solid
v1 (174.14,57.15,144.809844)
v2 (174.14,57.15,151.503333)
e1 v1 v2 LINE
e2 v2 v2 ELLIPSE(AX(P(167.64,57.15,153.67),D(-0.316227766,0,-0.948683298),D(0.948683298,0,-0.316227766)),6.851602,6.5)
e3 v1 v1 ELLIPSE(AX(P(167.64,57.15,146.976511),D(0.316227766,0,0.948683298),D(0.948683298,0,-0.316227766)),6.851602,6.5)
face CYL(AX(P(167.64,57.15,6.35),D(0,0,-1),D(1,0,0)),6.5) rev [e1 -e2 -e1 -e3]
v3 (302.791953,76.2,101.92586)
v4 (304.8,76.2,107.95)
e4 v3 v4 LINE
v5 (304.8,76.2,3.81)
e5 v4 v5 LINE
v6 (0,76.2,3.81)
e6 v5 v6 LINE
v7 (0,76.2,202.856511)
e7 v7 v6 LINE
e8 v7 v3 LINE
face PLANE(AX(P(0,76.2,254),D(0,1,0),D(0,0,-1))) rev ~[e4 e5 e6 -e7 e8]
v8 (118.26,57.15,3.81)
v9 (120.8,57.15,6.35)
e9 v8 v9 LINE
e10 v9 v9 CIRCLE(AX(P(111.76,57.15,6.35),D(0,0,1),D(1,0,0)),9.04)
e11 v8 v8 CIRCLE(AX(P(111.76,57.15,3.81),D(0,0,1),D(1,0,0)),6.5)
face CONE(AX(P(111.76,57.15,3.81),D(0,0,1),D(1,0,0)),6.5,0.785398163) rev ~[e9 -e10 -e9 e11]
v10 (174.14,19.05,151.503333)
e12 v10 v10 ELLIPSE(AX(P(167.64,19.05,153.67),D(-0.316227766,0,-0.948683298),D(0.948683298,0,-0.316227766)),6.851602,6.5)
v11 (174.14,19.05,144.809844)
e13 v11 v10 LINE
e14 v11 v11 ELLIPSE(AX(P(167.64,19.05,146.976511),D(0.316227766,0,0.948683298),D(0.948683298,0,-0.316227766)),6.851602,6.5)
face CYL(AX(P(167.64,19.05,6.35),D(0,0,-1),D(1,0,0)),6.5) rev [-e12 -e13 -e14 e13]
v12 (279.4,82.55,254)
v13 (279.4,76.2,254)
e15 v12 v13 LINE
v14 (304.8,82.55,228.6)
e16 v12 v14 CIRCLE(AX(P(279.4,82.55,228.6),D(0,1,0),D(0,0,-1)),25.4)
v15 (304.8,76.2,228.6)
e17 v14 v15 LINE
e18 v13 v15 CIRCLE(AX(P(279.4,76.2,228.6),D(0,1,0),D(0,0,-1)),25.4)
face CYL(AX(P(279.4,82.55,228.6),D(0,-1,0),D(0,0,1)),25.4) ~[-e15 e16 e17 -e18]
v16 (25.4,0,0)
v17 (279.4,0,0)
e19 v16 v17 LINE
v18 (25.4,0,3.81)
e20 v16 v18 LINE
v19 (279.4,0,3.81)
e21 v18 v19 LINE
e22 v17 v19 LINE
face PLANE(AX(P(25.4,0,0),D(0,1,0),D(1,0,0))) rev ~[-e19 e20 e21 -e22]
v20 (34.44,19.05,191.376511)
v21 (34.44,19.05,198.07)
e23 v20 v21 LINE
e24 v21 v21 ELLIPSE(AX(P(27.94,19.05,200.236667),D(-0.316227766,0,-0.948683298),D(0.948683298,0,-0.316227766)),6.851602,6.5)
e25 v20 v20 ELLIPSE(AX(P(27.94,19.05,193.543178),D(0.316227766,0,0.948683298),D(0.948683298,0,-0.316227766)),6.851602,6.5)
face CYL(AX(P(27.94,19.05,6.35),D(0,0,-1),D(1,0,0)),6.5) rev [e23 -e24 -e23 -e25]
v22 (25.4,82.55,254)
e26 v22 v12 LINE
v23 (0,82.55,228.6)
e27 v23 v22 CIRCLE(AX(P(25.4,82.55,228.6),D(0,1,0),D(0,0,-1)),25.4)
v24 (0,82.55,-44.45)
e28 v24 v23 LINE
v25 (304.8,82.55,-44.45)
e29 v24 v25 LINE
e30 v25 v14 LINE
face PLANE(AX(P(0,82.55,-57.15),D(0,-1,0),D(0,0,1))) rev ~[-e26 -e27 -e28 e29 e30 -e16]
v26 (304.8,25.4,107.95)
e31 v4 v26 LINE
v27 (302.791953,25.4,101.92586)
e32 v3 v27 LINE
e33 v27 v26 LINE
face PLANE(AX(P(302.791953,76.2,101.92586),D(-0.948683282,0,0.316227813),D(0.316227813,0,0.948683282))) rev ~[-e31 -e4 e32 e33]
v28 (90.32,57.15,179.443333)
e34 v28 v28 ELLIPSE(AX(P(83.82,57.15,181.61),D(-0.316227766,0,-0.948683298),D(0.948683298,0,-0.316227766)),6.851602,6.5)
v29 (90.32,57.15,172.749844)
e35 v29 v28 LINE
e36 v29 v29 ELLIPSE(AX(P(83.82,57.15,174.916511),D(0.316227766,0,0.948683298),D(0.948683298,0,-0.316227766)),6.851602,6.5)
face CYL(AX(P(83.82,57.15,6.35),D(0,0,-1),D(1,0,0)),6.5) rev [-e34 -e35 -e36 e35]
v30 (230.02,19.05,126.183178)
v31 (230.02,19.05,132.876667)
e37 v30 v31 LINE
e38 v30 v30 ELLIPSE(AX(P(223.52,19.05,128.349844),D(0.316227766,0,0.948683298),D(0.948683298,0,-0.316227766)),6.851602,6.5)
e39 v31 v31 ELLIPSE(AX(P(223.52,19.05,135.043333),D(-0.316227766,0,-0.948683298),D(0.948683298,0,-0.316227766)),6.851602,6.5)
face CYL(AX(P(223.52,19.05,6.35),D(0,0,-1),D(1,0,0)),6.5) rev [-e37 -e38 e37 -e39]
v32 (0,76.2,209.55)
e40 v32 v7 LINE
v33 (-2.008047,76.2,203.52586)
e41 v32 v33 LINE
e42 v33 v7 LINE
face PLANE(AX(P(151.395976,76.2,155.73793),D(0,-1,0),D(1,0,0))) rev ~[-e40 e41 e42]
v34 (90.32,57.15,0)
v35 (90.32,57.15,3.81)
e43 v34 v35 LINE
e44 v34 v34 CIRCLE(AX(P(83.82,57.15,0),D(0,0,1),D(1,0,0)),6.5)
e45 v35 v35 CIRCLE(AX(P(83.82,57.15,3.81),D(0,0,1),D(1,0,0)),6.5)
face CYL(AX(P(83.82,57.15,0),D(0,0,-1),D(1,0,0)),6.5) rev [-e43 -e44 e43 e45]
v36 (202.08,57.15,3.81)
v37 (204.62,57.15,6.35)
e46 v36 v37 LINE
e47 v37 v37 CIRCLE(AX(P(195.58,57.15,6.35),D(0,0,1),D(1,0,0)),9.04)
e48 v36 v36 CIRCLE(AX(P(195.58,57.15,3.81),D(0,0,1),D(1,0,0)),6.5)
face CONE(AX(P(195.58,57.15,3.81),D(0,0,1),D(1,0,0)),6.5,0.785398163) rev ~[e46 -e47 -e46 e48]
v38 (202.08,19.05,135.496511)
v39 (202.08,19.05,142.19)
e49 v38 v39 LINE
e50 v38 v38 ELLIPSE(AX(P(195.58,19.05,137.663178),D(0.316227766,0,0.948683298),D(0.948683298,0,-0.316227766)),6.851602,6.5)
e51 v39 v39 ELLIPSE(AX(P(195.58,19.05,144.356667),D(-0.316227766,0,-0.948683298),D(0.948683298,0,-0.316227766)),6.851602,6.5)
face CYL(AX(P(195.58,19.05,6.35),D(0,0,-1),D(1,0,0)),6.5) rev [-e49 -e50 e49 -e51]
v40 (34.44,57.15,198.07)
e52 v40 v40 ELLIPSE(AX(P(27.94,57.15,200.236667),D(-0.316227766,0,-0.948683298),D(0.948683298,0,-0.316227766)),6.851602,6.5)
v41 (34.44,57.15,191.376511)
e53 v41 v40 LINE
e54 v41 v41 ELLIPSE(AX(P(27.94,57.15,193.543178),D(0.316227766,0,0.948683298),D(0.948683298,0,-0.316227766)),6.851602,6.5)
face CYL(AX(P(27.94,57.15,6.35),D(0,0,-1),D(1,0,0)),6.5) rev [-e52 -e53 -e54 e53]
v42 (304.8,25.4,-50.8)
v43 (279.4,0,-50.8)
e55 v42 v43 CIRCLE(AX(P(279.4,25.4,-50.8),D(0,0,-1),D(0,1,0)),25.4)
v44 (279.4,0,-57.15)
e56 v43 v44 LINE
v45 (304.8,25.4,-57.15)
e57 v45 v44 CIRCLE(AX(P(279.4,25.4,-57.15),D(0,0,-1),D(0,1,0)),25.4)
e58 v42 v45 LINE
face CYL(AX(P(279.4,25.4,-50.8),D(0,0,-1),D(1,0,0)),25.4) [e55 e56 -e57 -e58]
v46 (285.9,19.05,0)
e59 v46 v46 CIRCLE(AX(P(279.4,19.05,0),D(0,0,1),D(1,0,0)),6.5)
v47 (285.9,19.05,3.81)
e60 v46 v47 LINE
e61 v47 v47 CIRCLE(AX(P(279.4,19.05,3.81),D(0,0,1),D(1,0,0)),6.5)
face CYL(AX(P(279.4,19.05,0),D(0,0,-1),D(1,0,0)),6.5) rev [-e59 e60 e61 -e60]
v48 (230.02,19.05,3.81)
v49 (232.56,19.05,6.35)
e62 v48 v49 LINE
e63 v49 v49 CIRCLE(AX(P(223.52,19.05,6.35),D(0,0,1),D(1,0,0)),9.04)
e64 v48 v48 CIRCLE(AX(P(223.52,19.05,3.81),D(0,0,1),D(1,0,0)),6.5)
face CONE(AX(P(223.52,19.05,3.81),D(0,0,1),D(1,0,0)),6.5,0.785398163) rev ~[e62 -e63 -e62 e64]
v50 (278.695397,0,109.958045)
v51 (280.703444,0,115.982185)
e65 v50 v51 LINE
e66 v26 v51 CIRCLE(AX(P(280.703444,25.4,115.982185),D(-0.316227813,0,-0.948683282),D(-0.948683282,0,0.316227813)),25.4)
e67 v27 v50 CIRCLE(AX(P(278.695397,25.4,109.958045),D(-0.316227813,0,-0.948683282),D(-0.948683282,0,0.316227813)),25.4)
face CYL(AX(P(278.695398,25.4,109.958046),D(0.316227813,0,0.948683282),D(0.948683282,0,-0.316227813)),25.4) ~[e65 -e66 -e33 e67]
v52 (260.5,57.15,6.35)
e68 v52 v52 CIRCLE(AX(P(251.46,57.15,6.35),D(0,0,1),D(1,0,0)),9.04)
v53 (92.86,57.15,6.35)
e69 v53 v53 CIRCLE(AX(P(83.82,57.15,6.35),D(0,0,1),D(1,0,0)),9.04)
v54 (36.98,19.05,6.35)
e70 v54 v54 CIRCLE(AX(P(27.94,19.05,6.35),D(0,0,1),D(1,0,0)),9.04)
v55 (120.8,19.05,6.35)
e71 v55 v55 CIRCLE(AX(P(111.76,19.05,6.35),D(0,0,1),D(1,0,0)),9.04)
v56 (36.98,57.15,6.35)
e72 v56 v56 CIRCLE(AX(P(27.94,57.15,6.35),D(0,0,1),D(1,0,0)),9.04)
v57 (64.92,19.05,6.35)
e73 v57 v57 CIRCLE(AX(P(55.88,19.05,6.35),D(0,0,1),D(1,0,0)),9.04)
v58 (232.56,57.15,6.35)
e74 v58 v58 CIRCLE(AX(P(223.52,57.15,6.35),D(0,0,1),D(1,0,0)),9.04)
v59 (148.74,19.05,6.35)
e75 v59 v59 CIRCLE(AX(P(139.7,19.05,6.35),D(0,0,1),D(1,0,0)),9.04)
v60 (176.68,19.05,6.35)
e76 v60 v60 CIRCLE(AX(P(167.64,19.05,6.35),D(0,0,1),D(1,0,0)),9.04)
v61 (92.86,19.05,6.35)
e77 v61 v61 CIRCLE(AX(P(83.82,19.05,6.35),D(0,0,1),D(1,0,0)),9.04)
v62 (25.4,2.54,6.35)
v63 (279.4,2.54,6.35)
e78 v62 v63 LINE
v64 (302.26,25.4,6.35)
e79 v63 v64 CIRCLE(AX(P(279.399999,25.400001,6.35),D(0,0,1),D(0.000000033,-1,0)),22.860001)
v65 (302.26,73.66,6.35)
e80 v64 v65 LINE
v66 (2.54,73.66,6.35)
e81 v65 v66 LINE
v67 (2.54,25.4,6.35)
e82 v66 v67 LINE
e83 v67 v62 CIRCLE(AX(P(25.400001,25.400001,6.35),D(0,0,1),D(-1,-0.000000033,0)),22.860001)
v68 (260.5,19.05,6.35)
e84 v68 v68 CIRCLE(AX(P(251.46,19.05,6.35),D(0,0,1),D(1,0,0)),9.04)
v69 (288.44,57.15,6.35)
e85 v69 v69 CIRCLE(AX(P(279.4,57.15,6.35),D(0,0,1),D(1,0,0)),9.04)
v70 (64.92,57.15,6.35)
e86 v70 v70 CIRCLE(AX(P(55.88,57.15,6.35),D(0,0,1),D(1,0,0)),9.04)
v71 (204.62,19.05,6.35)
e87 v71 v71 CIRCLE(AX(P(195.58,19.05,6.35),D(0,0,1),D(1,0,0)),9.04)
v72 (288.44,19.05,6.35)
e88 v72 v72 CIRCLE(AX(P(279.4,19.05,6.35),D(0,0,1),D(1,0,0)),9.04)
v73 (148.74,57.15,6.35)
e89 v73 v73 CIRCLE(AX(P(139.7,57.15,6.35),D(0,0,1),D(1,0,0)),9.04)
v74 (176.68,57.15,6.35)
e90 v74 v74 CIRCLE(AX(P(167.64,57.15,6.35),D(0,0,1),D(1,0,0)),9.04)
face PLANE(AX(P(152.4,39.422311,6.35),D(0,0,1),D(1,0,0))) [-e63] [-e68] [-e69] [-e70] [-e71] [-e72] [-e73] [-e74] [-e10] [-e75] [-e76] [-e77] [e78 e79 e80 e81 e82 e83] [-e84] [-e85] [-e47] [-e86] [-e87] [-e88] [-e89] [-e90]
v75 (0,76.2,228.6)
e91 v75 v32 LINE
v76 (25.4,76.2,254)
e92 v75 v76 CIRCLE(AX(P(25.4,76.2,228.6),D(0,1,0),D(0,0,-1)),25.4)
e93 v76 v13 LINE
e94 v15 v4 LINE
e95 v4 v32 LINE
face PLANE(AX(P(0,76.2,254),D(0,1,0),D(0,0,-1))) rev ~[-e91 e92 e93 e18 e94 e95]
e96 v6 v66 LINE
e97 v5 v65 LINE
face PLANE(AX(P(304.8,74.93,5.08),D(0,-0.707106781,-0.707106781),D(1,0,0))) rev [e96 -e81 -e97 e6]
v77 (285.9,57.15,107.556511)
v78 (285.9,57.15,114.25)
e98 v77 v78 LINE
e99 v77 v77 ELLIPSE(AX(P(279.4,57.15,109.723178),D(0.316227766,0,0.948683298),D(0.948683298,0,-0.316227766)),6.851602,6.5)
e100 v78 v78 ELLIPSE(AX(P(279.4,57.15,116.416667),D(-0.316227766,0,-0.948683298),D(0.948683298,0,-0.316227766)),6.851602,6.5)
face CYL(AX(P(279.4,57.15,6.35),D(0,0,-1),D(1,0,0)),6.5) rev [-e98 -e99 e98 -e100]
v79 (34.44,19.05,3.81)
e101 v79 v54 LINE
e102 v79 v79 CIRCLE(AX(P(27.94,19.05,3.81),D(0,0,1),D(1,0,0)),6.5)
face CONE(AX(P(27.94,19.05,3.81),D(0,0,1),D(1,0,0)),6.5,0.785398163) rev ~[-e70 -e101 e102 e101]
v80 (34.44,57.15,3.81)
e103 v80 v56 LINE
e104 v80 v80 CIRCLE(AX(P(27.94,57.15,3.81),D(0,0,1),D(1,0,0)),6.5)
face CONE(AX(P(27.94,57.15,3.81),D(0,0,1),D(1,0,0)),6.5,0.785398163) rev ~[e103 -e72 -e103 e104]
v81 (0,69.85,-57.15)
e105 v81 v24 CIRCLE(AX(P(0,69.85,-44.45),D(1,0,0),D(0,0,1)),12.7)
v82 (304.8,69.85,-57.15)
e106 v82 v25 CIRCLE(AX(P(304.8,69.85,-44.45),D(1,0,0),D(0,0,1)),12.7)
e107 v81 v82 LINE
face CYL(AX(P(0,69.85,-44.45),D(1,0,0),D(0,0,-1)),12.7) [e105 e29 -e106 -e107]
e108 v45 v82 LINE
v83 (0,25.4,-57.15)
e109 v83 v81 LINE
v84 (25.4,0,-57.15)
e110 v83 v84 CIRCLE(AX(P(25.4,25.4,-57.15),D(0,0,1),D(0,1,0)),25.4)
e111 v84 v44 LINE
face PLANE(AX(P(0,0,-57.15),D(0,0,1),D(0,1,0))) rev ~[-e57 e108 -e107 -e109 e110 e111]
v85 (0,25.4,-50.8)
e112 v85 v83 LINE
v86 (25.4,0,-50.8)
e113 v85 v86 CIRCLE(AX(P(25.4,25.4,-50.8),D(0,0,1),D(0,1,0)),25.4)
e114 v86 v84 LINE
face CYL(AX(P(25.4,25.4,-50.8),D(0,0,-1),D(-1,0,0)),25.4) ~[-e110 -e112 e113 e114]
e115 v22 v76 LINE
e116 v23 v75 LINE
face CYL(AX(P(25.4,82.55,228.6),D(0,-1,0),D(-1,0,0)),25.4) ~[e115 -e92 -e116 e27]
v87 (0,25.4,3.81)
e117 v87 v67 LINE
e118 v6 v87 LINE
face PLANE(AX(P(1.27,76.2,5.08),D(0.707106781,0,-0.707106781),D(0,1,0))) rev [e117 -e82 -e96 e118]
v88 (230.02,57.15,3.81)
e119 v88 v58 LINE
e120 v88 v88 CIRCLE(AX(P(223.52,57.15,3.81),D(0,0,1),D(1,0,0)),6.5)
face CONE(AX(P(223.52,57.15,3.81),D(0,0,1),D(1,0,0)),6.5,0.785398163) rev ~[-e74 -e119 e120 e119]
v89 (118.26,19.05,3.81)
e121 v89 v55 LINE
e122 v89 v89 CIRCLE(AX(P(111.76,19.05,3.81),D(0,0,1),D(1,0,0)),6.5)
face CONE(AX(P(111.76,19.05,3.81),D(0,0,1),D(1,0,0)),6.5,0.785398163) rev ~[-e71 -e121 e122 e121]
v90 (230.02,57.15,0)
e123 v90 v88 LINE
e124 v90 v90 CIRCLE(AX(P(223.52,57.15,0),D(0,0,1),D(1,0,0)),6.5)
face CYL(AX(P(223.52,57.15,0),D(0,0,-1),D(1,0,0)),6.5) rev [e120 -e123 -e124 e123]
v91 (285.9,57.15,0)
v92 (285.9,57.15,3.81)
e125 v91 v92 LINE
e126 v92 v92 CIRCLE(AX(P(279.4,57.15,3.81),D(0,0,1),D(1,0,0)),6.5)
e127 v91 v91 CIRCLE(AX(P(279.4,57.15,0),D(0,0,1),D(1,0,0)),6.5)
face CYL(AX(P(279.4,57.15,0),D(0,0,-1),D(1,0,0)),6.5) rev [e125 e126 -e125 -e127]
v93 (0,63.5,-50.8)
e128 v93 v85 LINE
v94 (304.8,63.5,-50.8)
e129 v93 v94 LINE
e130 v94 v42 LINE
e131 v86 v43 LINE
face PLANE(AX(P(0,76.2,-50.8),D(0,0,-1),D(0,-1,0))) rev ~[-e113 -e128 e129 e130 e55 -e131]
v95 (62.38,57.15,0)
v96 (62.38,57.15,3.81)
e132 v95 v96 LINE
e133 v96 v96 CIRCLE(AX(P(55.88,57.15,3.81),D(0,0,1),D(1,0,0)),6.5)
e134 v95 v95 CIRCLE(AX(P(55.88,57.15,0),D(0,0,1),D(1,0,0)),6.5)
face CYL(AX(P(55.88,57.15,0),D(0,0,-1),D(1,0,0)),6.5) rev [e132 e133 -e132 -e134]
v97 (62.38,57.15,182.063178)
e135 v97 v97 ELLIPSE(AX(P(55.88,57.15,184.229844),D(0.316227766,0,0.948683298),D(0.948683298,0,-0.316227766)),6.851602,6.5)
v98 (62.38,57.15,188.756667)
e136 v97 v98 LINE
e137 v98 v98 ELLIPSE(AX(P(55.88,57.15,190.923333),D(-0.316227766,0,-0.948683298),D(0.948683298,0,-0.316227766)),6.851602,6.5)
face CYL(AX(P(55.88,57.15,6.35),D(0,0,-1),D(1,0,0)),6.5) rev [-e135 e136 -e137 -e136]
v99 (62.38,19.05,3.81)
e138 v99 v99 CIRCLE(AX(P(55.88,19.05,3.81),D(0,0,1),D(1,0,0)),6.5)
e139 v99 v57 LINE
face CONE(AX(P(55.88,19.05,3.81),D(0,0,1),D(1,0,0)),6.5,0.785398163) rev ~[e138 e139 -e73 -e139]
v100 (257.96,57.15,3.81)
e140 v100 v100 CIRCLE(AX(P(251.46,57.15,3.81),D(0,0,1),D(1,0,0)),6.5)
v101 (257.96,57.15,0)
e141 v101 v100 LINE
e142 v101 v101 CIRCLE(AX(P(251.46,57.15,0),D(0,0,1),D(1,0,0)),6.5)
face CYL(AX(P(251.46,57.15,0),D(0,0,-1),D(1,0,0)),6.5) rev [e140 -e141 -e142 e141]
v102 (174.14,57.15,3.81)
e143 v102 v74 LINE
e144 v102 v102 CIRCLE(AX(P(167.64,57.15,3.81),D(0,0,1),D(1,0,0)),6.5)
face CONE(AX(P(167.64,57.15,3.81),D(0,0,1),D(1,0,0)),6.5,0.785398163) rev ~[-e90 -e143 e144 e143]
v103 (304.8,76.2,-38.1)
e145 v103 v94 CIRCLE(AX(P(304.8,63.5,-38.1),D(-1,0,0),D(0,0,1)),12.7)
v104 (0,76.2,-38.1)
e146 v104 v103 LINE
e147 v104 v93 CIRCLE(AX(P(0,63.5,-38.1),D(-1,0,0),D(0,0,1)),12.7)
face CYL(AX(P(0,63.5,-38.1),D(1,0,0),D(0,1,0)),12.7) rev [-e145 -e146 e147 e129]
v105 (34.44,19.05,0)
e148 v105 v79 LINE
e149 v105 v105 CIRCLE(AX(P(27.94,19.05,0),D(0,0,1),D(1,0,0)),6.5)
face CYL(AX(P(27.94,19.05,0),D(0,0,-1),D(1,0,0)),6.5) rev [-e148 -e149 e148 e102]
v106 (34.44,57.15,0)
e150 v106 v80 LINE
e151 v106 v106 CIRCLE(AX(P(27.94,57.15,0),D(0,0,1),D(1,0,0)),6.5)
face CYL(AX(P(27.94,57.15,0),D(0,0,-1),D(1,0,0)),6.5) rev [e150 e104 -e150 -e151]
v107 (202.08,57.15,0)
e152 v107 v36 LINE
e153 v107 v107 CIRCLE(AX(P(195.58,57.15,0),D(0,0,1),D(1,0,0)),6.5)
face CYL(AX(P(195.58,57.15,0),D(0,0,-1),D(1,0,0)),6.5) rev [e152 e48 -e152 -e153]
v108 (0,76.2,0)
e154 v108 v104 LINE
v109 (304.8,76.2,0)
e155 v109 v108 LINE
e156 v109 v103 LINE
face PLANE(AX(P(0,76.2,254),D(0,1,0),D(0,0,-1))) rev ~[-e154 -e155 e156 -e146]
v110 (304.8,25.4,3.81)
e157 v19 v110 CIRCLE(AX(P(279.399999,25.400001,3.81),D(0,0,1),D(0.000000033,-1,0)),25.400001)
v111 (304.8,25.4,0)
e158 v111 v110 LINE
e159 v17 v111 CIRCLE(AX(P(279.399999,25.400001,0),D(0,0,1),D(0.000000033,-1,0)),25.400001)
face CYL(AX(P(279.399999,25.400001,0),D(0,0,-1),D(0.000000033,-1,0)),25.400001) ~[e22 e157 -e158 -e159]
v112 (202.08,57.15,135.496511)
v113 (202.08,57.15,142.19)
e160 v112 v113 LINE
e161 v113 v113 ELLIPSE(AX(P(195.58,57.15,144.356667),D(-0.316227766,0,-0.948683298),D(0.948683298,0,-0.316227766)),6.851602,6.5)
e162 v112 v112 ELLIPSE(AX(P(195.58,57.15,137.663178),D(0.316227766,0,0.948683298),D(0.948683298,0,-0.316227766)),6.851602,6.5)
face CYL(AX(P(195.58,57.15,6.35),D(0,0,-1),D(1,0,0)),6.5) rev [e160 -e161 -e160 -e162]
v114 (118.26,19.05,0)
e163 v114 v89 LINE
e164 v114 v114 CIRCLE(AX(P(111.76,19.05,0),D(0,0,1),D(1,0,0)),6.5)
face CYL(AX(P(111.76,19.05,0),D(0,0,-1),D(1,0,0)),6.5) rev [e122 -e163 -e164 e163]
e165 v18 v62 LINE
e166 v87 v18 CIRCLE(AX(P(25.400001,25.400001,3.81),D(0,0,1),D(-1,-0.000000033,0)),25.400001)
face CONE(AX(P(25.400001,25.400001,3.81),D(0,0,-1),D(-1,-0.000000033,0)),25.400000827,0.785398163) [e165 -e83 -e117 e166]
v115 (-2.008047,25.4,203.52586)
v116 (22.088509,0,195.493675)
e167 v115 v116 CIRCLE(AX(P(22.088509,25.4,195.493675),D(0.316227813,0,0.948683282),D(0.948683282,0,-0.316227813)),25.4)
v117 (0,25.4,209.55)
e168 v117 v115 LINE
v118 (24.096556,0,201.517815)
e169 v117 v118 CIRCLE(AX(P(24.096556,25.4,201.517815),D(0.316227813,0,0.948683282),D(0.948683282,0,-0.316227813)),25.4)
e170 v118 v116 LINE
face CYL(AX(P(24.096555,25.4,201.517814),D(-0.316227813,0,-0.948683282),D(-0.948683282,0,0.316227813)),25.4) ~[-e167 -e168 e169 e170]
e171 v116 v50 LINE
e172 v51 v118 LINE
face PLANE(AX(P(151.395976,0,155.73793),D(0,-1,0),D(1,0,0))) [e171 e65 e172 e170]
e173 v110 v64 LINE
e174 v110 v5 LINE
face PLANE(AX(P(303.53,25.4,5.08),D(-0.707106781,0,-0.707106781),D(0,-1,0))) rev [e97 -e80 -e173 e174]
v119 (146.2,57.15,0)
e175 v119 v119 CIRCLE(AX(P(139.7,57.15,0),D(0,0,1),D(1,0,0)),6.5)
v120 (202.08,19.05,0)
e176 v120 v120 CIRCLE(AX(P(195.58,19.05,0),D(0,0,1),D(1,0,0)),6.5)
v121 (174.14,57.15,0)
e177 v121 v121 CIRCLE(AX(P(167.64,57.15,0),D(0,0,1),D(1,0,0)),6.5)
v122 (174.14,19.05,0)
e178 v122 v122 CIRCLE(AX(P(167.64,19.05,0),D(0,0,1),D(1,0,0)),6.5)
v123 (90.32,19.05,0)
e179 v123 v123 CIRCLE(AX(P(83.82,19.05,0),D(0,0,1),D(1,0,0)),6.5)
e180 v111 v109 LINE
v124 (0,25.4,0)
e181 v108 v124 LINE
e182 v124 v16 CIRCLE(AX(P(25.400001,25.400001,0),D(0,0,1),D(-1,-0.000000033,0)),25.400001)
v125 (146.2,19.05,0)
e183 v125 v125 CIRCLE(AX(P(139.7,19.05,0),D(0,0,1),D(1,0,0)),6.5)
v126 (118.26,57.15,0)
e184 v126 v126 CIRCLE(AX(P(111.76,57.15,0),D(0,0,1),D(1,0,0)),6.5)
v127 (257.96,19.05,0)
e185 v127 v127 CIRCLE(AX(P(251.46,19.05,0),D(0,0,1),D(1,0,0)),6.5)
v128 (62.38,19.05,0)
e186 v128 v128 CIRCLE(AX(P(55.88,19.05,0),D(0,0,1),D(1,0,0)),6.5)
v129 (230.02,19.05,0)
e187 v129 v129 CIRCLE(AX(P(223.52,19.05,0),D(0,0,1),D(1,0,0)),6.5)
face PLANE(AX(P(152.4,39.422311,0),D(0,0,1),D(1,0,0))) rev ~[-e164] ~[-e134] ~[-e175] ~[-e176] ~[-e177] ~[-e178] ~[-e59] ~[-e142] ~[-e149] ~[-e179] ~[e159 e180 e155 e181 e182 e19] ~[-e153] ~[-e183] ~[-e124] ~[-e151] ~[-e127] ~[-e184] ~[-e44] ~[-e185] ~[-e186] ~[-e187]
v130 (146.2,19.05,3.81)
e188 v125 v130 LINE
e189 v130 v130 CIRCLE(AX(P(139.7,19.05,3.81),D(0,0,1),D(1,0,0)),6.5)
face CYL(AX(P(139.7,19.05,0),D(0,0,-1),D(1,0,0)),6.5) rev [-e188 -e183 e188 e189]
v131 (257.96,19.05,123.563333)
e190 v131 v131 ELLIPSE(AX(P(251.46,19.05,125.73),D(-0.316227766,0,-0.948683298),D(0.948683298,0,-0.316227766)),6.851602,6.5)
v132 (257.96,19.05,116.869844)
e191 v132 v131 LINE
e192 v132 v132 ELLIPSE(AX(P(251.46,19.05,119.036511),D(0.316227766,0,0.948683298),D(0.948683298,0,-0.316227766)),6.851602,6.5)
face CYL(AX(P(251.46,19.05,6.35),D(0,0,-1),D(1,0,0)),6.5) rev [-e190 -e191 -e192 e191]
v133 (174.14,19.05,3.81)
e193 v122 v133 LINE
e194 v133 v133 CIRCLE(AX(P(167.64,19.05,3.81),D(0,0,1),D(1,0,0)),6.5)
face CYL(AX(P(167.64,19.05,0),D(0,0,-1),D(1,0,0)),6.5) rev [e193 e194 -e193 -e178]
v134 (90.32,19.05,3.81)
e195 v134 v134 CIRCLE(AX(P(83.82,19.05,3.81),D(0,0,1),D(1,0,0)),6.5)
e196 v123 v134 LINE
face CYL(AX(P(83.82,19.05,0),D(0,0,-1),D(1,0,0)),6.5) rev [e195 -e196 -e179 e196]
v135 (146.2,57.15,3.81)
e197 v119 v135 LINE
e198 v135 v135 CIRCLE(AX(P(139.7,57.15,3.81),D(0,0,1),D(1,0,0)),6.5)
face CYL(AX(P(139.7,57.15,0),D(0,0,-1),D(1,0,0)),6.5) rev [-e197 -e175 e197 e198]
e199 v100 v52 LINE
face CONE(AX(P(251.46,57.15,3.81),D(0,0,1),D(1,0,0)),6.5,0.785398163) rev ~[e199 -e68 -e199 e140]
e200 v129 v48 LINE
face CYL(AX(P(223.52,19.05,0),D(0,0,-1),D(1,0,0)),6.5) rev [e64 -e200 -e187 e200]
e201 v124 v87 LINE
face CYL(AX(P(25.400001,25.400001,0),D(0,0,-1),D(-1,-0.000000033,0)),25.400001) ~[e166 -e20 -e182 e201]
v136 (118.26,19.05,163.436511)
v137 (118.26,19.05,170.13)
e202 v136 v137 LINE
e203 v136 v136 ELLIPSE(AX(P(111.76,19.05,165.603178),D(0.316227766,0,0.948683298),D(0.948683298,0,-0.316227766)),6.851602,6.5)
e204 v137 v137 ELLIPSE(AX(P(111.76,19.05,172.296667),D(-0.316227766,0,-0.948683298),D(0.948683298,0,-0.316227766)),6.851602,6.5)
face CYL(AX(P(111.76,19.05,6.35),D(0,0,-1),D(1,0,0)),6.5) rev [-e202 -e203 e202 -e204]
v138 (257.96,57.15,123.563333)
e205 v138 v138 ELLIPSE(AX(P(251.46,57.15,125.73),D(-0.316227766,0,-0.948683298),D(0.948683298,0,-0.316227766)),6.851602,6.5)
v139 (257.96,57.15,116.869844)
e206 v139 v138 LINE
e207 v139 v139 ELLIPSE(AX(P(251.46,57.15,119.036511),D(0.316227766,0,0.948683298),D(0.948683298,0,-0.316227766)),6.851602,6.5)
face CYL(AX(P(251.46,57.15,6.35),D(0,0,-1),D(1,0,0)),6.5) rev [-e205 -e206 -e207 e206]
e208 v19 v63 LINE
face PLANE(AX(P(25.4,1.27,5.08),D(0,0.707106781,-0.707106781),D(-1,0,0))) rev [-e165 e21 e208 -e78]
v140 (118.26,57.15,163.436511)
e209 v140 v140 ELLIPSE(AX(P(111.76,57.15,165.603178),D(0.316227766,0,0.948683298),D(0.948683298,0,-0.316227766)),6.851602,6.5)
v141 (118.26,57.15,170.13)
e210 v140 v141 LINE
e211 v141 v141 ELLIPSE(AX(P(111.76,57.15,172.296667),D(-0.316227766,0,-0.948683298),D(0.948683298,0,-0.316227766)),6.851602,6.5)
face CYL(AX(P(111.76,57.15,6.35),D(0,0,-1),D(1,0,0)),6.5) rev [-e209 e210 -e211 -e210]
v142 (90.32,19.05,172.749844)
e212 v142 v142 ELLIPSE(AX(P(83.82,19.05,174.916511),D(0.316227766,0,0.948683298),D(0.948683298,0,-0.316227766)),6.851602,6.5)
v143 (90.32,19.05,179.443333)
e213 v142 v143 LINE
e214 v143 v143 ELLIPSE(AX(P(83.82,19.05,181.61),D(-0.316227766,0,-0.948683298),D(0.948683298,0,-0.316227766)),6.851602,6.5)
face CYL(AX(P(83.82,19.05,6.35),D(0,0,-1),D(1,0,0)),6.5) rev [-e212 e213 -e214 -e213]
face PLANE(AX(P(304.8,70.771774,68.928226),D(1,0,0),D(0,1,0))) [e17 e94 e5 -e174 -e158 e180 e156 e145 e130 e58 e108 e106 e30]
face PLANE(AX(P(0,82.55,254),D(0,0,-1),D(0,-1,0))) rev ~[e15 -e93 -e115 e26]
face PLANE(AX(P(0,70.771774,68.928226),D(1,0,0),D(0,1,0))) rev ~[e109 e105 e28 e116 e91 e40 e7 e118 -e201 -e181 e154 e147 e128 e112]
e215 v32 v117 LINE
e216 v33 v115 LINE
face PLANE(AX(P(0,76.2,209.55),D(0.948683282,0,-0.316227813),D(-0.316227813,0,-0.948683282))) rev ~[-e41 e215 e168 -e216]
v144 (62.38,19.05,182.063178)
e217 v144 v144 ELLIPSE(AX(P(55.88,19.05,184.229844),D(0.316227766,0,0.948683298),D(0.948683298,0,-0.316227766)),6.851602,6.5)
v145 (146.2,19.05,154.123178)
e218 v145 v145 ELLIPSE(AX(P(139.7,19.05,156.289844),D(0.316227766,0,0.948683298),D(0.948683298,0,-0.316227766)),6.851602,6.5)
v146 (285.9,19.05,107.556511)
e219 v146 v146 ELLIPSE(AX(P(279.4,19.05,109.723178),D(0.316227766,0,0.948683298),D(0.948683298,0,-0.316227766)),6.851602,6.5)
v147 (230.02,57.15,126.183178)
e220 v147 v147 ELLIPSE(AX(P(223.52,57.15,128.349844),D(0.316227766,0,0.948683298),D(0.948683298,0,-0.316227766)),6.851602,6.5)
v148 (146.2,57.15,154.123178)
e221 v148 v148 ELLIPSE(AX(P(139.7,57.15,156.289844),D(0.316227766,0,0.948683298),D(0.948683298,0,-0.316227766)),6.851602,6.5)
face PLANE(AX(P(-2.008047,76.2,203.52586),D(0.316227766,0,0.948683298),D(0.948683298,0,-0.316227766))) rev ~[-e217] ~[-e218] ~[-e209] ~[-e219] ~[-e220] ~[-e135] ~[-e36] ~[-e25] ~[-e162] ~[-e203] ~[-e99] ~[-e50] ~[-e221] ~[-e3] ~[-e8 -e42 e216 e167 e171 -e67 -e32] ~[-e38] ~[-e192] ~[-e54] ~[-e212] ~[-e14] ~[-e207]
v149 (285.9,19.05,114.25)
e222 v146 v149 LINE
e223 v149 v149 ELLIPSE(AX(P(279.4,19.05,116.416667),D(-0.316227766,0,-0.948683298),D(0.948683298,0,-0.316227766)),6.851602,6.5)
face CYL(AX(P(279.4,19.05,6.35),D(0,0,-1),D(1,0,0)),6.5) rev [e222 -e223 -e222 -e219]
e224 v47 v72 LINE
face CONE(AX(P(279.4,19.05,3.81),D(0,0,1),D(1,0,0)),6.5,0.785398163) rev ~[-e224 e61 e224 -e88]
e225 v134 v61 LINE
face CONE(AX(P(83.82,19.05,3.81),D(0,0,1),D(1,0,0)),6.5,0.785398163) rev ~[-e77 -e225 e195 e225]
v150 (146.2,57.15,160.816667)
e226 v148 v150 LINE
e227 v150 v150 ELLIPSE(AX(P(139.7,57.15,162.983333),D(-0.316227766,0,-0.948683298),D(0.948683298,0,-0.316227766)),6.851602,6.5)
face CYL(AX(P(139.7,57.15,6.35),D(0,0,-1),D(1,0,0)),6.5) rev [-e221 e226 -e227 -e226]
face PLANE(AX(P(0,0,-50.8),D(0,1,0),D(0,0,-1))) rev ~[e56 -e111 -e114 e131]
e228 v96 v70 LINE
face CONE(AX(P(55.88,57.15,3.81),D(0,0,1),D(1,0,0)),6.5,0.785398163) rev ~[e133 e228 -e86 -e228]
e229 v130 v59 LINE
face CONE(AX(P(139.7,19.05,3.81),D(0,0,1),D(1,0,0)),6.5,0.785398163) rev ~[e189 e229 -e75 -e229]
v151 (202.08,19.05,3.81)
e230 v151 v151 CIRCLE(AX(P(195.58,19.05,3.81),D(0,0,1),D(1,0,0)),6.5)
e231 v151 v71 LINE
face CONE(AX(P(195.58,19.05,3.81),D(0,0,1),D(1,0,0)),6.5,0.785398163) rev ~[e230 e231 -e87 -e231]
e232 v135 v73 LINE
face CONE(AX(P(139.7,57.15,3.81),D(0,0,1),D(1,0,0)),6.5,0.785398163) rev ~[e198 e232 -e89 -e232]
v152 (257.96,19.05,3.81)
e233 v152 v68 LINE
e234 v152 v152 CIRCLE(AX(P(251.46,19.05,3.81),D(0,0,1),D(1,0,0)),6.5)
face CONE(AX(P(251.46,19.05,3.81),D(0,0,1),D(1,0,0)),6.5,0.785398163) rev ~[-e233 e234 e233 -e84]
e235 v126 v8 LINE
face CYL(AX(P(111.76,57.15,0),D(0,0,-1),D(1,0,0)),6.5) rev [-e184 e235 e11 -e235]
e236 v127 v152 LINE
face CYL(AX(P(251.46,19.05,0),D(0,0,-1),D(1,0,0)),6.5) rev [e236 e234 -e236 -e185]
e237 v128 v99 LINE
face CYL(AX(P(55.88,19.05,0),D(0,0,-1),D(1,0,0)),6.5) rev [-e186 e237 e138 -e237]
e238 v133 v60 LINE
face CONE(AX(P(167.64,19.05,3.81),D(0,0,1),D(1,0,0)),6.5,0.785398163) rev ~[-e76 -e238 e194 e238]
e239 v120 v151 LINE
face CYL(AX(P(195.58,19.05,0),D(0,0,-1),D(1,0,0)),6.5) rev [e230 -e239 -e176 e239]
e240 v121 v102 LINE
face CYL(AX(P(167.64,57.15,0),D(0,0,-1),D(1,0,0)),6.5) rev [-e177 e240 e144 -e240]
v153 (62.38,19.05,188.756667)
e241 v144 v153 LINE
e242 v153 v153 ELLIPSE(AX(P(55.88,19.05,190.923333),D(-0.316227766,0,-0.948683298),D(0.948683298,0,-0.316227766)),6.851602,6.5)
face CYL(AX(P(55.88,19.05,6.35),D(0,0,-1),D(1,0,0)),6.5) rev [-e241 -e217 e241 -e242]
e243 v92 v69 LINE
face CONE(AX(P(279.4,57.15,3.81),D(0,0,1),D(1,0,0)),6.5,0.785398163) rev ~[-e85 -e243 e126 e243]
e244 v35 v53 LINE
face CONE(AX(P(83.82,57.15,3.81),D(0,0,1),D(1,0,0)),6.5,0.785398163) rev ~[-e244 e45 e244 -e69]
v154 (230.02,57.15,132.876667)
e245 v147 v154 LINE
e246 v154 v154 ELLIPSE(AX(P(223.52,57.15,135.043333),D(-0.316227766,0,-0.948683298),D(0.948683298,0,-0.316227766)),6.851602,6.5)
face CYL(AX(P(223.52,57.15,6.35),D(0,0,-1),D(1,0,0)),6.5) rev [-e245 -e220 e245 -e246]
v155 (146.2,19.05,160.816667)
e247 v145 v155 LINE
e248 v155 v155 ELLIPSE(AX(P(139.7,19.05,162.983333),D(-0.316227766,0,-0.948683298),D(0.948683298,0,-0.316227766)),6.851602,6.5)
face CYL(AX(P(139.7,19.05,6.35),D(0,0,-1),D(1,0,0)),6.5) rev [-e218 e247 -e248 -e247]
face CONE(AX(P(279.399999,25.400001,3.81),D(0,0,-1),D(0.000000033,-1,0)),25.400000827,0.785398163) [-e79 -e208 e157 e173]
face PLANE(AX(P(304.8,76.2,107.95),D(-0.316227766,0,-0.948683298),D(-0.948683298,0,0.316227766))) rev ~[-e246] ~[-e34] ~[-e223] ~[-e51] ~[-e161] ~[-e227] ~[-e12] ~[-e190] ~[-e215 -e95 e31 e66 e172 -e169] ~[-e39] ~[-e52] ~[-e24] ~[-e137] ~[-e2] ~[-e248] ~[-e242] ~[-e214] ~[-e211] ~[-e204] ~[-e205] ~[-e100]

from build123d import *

# Parameters (mm, degrees)
F0_R      = 6.5
F1_DEPTH  = 6.35
F2_SIZE   = 2.54
F4_DEPTH  = 304.8
F5_R      = 12.7
F6_R      = 25.4
F8_DEPTH  = 76.2
F9_R      = 25.4
F10_R     = 6.5
F11_DEPTH = 247.651


with BuildPart() as f1:
    # F0 (on Top) → F1 (new body)
    with BuildSketch(Plane.XY):
        with BuildLine():
            ThreePointArc((0, 25.4), (7.439488, 7.439488), (25.4, 0))
            Line((25.4, 0), (279.4, 0))
            ThreePointArc((279.4, 0), (297.360512, 7.439488), (304.8, 25.4))
            Line((304.8, 25.4), (304.8, 76.2))
            Line((304.8, 76.2), (0, 76.2))
            Line((0, 76.2), (0, 25.4))
        make_face()
        with Locations((27.94, 19.05)):
            Circle(F0_R, mode=Mode.SUBTRACT)
        with Locations((55.88, 19.05)):
            Circle(F0_R, mode=Mode.SUBTRACT)
        with Locations((83.82, 19.05)):
            Circle(F0_R, mode=Mode.SUBTRACT)
        with Locations((111.76, 19.05)):
            Circle(F0_R, mode=Mode.SUBTRACT)
        with Locations((139.7, 19.05)):
            Circle(F0_R, mode=Mode.SUBTRACT)
        with Locations((167.64, 19.05)):
            Circle(F0_R, mode=Mode.SUBTRACT)
        with Locations((195.58, 19.05)):
            Circle(F0_R, mode=Mode.SUBTRACT)
        with Locations((223.52, 19.05)):
            Circle(F0_R, mode=Mode.SUBTRACT)
        with Locations((251.46, 19.05)):
            Circle(F0_R, mode=Mode.SUBTRACT)
        with Locations((279.4, 19.05)):
            Circle(F0_R, mode=Mode.SUBTRACT)
        with Locations((27.94, 57.15)):
            Circle(F0_R, mode=Mode.SUBTRACT)
        with Locations((55.88, 57.15)):
            Circle(F0_R, mode=Mode.SUBTRACT)
        with Locations((83.82, 57.15)):
            Circle(F0_R, mode=Mode.SUBTRACT)
        with Locations((111.76, 57.15)):
            Circle(F0_R, mode=Mode.SUBTRACT)
        with Locations((139.7, 57.15)):
            Circle(F0_R, mode=Mode.SUBTRACT)
        with Locations((167.64, 57.15)):
            Circle(F0_R, mode=Mode.SUBTRACT)
        with Locations((195.58, 57.15)):
            Circle(F0_R, mode=Mode.SUBTRACT)
        with Locations((223.52, 57.15)):
            Circle(F0_R, mode=Mode.SUBTRACT)
        with Locations((251.46, 57.15)):
            Circle(F0_R, mode=Mode.SUBTRACT)
        with Locations((279.4, 57.15)):
            Circle(F0_R, mode=Mode.SUBTRACT)
    extrude(amount=F1_DEPTH)

    # F2
    f2_edges = [f1.edges().sort_by_distance(p)[0] for p in [
        (7.439488, 7.439488, 6.35),
        (152.4, 0, 6.35),
        (297.360512, 7.439488, 6.35),
        (304.8, 50.8, 6.35),
        (152.4, 76.2, 6.35),
        (0, 50.8, 6.35),
        (21.44, 19.05, 6.35),
        (49.38, 19.05, 6.35),
        (77.32, 19.05, 6.35),
        (105.26, 19.05, 6.35),
        (133.2, 19.05, 6.35),
        (161.14, 19.05, 6.35),
        (189.08, 19.05, 6.35),
        (217.02, 19.05, 6.35),
        (244.96, 19.05, 6.35),
        (272.9, 19.05, 6.35),
        (21.44, 57.15, 6.35),
        (49.38, 57.15, 6.35),
        (77.32, 57.15, 6.35),
        (105.26, 57.15, 6.35),
        (133.2, 57.15, 6.35),
        (161.14, 57.15, 6.35),
        (189.08, 57.15, 6.35),
        (217.02, 57.15, 6.35),
        (244.96, 57.15, 6.35),
        (272.9, 57.15, 6.35),
    ]]
    chamfer(f2_edges, length=F2_SIZE)

    # F3 (on Right) → F4 (join)
    with BuildSketch(Plane.YZ):
        Polygon((76.2, 254), (76.2, 0), (76.2, -50.8), (0, -50.8), (0, -57.15), (82.55, -57.15), (82.55, 254), align=None)
    extrude(amount=F4_DEPTH)

    # F5
    f5_edges = [f1.edges().sort_by_distance(p)[0] for p in [
        (152.4, 76.2, -50.8),
        (152.4, 82.55, -57.15),
    ]]
    fillet(f5_edges, radius=F5_R)

    # F6
    f6_edges = [f1.edges().sort_by_distance(p)[0] for p in [
        (304.8, 79.375, 254),
        (0, 79.375, 254),
    ]]
    fillet(f6_edges, radius=F6_R)

    # F7 (on face) → F8 (join)
    with BuildSketch(Plane.XZ.offset(-76.2)):
        Polygon((304.8, 107.95), (0, 209.55), (-2.008047, 203.52586), (302.791953, 101.92586), align=None)
    extrude(amount=F8_DEPTH)

    # F9
    f9_edges = [f1.edges().sort_by_distance(p)[0] for p in [
        (304.8, 0, -53.975),
        (0, 0, -53.975),
        (-1.004023, 0, 206.53793),
        (303.795977, 0, 104.93793),
    ]]
    fillet(f9_edges, radius=F9_R)

    # F10 (on face) → F11 (cut, through all)
    with BuildSketch(Plane.XY.offset(6.35)):
        with Locations((27.94, 57.15)):
            Circle(F10_R)
        with Locations((27.94, 19.05)):
            Circle(F10_R)
        with Locations((55.88, 57.15)):
            Circle(F10_R)
        with Locations((55.88, 19.05)):
            Circle(F10_R)
        with Locations((83.82, 57.15)):
            Circle(F10_R)
        with Locations((111.76, 57.15)):
            Circle(F10_R)
        with Locations((83.82, 19.05)):
            Circle(F10_R)
        with Locations((111.76, 19.05)):
            Circle(F10_R)
        with Locations((139.7, 19.05)):
            Circle(F10_R)
        with Locations((139.7, 57.15)):
            Circle(F10_R)
        with Locations((167.64, 57.15)):
            Circle(F10_R)
        with Locations((167.64, 19.05)):
            Circle(F10_R)
        with Locations((195.58, 19.05)):
            Circle(F10_R)
        with Locations((195.58, 57.15)):
            Circle(F10_R)
        with Locations((223.52, 57.15)):
            Circle(F10_R)
        with Locations((223.52, 19.05)):
            Circle(F10_R)
        with Locations((251.46, 57.15)):
            Circle(F10_R)
        with Locations((251.46, 19.05)):
            Circle(F10_R)
        with Locations((279.4, 57.15)):
            Circle(F10_R)
        with Locations((279.4, 19.05)):
            Circle(F10_R)
    extrude(amount=F11_DEPTH, mode=Mode.SUBTRACT)


solid = f1.part
